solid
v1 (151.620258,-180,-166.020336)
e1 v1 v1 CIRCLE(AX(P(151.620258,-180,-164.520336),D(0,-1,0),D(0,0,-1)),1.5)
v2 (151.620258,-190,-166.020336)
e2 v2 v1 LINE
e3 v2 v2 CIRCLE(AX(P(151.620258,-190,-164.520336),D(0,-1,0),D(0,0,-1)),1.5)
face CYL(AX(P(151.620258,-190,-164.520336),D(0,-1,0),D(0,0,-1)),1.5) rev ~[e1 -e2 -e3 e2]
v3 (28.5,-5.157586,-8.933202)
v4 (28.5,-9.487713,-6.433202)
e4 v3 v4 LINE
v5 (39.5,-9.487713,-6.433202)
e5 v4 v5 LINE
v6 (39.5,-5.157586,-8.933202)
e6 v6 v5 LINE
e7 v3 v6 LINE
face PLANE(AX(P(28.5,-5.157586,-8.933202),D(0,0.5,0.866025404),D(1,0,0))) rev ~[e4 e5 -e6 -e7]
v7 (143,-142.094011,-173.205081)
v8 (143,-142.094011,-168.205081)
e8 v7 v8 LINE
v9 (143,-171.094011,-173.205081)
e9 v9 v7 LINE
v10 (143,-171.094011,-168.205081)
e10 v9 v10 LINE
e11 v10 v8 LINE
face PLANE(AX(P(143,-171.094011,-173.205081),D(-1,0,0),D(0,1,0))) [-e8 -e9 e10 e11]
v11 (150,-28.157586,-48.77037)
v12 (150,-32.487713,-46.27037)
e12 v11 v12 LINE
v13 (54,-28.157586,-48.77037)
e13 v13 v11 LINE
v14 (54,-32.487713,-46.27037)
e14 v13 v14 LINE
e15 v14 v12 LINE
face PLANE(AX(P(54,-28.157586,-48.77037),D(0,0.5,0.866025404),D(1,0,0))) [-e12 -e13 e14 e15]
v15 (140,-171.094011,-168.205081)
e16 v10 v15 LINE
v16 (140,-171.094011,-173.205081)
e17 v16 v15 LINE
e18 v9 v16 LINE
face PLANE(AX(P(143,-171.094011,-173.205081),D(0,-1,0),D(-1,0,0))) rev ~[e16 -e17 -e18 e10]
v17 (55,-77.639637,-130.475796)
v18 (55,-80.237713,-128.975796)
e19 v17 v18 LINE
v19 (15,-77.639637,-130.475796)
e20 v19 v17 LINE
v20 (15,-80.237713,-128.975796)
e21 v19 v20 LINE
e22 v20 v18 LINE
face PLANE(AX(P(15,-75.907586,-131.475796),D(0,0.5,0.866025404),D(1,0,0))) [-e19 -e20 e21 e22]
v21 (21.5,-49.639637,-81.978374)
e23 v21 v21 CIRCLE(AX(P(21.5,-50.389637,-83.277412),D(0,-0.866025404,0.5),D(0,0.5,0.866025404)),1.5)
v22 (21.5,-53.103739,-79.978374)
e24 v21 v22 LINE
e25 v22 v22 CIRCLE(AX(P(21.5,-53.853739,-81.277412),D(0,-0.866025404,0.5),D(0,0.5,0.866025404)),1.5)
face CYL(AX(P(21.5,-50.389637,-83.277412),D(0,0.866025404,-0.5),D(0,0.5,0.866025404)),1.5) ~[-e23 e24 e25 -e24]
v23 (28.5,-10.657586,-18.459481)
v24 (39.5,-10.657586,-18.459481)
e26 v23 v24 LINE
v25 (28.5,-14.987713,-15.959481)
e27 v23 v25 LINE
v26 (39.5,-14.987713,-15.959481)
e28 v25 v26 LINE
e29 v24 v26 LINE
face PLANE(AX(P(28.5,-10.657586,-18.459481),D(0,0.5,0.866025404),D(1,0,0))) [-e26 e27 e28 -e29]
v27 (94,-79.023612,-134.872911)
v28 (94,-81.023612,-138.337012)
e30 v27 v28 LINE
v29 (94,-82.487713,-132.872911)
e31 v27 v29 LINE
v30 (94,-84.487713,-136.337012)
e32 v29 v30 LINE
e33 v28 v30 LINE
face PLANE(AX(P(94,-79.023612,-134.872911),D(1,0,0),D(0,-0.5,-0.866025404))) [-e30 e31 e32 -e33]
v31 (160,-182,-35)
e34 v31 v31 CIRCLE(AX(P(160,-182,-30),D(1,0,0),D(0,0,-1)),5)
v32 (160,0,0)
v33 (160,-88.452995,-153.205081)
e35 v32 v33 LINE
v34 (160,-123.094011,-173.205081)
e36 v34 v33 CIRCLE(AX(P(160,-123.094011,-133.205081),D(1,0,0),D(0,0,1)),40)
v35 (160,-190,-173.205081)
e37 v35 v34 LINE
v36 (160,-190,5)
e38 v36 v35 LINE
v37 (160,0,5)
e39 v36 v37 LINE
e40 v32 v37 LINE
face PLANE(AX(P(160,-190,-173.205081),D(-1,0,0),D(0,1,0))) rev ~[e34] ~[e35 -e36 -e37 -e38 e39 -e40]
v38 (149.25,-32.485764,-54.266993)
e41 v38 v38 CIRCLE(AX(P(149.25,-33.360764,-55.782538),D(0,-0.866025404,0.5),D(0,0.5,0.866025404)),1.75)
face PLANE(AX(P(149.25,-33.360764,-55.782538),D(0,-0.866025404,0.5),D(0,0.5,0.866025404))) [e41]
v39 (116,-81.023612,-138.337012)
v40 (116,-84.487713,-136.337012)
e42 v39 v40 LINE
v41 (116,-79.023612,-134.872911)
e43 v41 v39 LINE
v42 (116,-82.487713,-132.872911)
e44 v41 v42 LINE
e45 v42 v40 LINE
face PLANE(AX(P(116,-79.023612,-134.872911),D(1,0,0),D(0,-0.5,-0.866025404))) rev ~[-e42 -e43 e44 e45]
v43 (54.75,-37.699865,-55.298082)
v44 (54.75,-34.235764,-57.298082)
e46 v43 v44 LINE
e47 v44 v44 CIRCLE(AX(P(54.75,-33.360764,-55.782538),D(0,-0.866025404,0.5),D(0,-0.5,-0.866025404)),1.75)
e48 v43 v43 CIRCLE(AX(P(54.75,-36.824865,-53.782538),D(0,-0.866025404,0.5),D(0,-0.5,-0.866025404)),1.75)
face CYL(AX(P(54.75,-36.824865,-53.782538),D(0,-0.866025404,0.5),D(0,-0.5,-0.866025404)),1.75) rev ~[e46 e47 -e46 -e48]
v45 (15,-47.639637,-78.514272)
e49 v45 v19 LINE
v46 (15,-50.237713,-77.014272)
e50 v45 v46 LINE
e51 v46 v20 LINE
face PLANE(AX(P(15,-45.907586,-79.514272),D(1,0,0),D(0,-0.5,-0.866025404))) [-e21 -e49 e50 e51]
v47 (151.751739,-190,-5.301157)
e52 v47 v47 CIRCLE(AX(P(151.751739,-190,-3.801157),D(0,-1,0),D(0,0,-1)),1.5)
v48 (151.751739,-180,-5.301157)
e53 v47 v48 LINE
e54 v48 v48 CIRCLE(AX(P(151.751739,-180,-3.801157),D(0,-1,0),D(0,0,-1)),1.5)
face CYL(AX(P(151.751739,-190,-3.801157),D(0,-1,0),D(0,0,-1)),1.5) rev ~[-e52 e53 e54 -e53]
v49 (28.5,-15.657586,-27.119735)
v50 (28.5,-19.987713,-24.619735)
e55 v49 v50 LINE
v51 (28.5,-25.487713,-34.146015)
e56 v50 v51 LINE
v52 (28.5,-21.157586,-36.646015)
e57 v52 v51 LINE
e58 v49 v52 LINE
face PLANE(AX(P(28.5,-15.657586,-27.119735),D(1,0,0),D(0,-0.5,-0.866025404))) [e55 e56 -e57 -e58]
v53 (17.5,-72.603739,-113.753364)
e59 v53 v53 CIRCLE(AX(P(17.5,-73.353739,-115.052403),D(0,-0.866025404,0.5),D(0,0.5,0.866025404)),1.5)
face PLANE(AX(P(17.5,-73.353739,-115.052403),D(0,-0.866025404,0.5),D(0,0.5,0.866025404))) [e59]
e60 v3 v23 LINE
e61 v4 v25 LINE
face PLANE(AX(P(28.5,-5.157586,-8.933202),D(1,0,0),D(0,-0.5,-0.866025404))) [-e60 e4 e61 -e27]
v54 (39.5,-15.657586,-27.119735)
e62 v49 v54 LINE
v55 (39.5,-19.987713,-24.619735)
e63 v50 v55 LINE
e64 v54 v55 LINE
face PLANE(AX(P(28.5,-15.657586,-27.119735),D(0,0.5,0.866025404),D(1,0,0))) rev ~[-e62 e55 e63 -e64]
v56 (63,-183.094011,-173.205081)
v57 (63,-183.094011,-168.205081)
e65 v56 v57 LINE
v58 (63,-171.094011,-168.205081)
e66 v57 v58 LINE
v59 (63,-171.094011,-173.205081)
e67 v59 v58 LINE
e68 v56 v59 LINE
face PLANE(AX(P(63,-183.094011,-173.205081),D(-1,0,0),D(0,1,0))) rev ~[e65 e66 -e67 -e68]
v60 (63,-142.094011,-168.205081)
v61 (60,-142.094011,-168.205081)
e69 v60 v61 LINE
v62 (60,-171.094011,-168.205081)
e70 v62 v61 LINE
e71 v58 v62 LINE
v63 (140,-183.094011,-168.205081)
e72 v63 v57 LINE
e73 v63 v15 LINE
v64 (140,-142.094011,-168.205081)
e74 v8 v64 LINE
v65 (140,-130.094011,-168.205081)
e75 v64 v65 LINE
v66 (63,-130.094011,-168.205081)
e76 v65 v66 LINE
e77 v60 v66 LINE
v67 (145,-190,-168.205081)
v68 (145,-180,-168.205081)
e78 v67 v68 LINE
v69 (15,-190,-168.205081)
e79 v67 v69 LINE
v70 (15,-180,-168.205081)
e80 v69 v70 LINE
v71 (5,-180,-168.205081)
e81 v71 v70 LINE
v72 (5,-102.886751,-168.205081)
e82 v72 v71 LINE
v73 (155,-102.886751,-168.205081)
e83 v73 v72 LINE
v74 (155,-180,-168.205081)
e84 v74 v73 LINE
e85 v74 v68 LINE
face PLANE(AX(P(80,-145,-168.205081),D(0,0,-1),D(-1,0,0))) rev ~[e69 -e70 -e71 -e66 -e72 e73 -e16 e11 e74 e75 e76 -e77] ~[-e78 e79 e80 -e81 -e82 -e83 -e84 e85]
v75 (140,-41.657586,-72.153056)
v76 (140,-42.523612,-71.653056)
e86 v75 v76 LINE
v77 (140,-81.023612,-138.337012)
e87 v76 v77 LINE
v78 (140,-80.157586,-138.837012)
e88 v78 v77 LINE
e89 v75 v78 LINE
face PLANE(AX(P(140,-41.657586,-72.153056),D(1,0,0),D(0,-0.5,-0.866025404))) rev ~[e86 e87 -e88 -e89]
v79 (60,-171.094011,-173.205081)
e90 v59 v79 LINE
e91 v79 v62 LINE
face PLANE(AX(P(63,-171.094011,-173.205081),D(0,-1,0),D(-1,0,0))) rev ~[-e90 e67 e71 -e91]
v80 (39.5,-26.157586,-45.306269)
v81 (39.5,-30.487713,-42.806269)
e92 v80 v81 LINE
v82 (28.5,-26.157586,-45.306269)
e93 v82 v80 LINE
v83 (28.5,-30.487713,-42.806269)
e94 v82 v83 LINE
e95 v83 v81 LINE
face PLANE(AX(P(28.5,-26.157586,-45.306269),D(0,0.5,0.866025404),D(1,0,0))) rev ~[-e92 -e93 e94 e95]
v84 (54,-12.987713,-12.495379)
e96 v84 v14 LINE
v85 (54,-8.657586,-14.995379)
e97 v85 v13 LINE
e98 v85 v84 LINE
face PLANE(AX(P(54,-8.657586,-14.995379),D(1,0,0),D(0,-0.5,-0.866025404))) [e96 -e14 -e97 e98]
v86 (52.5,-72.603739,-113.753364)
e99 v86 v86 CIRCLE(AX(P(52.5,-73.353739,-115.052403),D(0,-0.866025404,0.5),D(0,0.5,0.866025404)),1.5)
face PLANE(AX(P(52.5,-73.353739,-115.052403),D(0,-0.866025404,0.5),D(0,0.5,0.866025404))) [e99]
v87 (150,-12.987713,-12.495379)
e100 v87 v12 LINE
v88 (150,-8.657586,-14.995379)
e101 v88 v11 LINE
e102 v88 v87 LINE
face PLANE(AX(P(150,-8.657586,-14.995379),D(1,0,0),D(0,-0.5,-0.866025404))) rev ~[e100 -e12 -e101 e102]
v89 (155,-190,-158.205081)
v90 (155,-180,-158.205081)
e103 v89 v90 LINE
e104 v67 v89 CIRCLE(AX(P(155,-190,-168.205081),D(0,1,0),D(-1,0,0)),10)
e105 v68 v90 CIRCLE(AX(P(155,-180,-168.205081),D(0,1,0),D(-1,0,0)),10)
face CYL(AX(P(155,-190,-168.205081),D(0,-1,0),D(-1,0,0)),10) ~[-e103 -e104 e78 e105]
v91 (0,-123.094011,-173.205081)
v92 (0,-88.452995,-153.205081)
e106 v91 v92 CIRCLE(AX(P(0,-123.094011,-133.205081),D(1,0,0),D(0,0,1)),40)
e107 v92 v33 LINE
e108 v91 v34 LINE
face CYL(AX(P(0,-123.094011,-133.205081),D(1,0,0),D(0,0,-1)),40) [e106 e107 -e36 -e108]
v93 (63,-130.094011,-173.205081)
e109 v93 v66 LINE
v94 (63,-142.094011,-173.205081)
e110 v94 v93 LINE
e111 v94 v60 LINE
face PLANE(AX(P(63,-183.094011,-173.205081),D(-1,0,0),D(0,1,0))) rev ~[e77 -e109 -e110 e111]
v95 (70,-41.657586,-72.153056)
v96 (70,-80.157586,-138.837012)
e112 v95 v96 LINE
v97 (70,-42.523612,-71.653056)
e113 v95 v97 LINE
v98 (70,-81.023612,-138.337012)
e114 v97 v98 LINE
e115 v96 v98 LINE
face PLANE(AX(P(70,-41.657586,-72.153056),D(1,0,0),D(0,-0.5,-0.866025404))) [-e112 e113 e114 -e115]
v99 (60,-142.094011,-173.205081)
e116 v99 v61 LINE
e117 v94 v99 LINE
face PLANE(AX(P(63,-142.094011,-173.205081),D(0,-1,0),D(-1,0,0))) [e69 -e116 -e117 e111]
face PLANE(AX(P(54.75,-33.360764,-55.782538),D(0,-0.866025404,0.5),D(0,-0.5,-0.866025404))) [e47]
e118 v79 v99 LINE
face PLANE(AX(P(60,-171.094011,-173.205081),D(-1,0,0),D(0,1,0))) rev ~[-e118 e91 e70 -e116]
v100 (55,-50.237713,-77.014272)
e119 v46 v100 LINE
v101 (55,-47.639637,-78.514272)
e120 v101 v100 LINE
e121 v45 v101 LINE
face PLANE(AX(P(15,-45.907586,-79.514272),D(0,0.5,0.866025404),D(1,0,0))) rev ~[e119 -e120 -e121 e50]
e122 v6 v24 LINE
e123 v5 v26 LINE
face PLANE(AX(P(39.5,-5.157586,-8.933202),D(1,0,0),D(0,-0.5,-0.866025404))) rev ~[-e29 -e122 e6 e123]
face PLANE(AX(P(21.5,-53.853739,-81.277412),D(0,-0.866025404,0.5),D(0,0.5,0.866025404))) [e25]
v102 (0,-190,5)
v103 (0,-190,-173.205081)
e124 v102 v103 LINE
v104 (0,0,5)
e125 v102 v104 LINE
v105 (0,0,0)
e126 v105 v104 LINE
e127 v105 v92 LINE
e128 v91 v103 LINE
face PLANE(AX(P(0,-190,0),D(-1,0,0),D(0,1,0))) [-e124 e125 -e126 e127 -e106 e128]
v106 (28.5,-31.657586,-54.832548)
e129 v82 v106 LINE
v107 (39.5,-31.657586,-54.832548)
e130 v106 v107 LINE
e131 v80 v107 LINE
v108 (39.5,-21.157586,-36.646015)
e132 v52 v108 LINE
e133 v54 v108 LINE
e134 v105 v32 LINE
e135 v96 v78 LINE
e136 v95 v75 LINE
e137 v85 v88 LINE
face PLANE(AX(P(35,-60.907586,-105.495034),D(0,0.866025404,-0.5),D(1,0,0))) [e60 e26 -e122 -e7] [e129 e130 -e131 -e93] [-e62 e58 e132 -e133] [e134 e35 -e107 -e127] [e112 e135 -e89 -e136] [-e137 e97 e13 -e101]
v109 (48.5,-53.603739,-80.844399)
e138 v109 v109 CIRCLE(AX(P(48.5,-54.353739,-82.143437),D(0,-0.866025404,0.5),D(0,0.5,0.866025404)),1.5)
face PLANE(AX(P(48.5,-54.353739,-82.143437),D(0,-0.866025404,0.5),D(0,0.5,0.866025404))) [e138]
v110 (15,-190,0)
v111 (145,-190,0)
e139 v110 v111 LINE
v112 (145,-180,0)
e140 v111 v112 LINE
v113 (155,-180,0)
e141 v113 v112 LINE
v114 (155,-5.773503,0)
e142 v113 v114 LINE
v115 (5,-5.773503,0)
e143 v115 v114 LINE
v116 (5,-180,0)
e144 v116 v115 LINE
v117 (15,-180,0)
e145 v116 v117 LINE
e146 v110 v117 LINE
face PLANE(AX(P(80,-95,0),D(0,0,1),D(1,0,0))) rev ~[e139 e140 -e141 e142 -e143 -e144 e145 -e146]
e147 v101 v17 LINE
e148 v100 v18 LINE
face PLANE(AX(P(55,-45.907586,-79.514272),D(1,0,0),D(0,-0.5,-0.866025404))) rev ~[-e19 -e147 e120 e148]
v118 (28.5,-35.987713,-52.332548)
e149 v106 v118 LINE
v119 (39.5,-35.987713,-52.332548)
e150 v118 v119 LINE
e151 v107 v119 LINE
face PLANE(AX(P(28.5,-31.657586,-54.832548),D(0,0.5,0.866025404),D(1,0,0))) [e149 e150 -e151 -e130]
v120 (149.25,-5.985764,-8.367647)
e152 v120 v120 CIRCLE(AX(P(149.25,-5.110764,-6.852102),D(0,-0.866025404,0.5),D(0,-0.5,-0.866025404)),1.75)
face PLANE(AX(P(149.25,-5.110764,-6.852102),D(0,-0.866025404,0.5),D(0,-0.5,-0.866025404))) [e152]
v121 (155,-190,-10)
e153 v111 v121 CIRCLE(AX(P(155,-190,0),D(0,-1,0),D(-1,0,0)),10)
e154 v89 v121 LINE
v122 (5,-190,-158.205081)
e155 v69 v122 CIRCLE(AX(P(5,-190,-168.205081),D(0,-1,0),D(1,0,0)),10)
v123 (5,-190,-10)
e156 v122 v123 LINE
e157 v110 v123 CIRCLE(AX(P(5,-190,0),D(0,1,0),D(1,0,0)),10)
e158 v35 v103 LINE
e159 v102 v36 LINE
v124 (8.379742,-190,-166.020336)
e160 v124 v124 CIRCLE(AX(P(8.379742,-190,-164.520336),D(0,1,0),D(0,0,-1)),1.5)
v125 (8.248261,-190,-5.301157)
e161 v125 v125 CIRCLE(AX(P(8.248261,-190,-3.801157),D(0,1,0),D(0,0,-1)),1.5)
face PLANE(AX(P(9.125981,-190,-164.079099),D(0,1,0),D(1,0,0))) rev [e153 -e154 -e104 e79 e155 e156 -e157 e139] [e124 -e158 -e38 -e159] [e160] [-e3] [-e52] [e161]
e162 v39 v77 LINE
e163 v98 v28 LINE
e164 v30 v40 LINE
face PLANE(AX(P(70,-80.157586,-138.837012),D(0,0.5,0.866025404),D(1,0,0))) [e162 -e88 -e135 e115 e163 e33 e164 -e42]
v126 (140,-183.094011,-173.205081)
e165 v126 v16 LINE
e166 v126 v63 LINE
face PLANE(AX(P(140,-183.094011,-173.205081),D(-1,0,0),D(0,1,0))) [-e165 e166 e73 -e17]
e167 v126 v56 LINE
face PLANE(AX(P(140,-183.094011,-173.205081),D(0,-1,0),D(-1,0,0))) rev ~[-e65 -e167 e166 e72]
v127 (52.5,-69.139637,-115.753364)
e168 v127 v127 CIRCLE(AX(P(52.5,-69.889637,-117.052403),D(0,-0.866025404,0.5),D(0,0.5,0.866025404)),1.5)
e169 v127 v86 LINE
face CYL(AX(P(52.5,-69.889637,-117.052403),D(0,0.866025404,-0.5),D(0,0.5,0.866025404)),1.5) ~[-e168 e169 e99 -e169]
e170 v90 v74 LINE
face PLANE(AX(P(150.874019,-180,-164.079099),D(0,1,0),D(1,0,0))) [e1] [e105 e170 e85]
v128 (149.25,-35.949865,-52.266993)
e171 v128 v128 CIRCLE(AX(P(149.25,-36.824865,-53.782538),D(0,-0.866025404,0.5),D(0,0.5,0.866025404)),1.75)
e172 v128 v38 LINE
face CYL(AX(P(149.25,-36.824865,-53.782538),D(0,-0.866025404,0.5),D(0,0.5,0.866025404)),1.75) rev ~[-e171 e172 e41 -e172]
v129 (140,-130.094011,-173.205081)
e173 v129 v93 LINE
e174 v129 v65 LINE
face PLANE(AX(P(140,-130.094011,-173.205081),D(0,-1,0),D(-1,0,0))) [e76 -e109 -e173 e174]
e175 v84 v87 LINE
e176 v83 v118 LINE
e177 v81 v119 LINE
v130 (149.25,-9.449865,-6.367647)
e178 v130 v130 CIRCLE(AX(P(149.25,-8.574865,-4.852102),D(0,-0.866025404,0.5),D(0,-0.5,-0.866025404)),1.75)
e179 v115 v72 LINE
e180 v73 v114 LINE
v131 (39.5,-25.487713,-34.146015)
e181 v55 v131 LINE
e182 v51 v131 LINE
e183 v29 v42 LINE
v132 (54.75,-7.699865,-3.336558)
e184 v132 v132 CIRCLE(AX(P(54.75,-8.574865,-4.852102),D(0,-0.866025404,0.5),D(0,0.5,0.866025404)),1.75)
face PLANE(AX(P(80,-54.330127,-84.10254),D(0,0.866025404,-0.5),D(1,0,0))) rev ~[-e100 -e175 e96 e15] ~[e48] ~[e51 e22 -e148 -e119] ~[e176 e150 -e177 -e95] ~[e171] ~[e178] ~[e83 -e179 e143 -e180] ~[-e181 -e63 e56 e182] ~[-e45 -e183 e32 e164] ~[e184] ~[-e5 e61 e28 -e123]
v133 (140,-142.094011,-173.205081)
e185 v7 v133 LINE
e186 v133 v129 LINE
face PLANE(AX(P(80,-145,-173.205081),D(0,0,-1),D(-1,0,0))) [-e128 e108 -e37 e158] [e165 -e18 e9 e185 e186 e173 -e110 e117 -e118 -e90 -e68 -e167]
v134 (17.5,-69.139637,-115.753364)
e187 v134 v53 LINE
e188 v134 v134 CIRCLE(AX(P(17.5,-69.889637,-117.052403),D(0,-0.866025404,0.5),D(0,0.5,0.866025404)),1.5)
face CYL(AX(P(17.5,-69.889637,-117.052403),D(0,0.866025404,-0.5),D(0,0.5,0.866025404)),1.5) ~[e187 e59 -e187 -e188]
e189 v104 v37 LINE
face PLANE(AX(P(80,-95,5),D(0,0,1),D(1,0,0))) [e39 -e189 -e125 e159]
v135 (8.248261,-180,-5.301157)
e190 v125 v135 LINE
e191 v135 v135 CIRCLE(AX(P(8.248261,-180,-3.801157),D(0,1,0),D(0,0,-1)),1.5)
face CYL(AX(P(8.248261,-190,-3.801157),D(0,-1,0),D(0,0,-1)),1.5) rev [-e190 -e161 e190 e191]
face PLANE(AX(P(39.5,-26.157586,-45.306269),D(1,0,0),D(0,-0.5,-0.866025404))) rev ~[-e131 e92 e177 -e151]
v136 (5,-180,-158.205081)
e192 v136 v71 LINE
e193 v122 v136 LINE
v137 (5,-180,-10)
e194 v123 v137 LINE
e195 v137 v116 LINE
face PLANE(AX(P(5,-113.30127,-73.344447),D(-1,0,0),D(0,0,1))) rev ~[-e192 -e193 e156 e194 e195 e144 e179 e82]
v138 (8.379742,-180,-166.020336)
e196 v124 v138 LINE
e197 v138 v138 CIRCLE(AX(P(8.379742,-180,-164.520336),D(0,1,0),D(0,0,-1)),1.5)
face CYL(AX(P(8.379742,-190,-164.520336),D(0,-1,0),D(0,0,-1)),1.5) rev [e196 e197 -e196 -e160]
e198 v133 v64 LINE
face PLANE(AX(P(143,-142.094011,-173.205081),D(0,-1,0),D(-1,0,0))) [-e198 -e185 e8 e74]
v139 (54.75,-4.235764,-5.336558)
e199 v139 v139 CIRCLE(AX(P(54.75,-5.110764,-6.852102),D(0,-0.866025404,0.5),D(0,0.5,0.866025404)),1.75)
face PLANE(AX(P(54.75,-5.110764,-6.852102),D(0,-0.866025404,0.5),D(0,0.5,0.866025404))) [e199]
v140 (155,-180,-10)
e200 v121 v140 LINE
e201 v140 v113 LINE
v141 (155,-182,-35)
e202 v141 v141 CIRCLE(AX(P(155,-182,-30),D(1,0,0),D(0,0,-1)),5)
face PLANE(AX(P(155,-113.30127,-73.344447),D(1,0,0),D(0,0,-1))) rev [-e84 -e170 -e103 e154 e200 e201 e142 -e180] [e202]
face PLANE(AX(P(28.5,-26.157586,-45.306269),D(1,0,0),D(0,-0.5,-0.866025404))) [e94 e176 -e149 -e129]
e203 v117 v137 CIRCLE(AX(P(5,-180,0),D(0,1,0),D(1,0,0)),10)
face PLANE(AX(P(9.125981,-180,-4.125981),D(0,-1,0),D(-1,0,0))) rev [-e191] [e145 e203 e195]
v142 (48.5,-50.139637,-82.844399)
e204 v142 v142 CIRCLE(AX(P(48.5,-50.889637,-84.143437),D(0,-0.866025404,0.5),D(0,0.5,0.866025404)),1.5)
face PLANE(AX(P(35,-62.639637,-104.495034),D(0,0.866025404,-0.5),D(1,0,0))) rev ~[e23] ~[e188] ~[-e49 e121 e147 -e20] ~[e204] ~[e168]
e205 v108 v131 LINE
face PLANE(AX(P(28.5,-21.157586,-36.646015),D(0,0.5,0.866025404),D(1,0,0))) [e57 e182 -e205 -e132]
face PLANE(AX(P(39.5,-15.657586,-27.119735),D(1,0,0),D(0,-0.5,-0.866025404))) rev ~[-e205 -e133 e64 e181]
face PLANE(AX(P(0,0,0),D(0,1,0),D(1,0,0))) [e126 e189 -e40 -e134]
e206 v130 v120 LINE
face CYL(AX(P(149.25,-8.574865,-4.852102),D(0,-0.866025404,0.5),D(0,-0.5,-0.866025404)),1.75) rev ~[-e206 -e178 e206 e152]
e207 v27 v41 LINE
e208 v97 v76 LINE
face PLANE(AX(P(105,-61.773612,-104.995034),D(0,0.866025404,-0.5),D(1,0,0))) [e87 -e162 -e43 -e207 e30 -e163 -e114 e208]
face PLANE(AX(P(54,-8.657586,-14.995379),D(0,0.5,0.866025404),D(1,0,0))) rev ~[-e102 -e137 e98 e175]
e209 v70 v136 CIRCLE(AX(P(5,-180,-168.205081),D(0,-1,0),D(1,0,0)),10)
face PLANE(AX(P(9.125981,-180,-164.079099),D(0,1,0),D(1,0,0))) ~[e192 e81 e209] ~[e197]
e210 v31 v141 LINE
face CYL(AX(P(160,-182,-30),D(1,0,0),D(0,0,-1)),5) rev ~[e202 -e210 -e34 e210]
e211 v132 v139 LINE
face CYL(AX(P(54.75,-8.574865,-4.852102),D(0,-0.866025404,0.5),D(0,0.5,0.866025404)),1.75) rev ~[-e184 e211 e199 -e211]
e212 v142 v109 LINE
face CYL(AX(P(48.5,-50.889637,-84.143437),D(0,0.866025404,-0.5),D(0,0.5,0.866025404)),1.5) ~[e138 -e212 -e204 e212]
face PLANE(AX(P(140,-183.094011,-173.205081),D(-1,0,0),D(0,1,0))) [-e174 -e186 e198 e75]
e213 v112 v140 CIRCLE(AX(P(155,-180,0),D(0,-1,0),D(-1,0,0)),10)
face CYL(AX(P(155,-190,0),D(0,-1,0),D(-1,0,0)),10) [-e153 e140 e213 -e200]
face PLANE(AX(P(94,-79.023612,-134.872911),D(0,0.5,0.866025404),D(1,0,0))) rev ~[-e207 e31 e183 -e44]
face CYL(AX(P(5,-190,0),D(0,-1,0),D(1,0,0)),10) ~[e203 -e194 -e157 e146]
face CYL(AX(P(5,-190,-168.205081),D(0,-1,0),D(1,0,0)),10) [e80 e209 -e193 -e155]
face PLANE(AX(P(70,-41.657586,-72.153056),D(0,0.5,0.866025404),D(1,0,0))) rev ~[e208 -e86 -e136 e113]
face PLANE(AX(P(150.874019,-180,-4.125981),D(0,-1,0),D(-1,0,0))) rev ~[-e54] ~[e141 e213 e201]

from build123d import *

# Parameters (mm, degrees)
BOSS_EXTRUDE1_DEPTH  = 5
SKETCH2_W            = 160
SKETCH2_H            = 200
BOSS_EXTRUDE2_DEPTH  = 5
SKETCH4_W            = 160
SKETCH4_H            = 190
BOSS_EXTRUDE4_DEPTH  = 5
SKETCH5_W            = 160
SKETCH5_H            = 90
BOSS_EXTRUDE5_DEPTH  = 5
SKETCH6_W            = 96
SKETCH6_H            = 39
SKETCH6_W_2          = 11
SKETCH6_H_2          = 11
CUT_EXTRUDE2_DEPTH   = 5
FILLET1_R            = 40
SKETCH7_W            = 70
SKETCH7_H            = 77
CUT_EXTRUDE3_DEPTH   = 1
SKETCH8_W            = 22
SKETCH8_H            = 4
CUT_EXTRUDE4_DEPTH   = 4
SKETCH9_W            = 40
SKETCH9_H            = 60
CUT_EXTRUDE5_DEPTH   = 5
SKETCH12_W           = 40
SKETCH12_H           = 60
BOSS_EXTRUDE6_DEPTH  = 2
SKETCH14_W           = 77
SKETCH14_H           = 53
CUT_EXTRUDE6_DEPTH   = 5
SKETCH15_W           = 3
SKETCH15_H           = 29
CUT_EXTRUDE7_DEPTH   = 5
SKETCH17_R           = 1.75
CUT_EXTRUDE9_DEPTH   = 4
SKETCH21_R           = 1.5
BOSS_EXTRUDE8_DEPTH  = 4
SKETCH23_R           = 1.5
BOSS_EXTRUDE9_DEPTH  = 10
SKETCH25_R           = 1.5
BOSS_EXTRUDE10_DEPTH = 10
SKETCH33_R           = 5
CUT_EXTRUDE14_DEPTH  = 10


with BuildPart() as part:
    # Sketch1 → Boss-Extrude1 (new body)
    with BuildSketch(Plane(origin=(0, 0, 0), x_dir=(0, 0, -1), z_dir=(1, 0, 0))):
        Polygon((0, 0), (173.205080757, -100), (173.205080757, -190), (0, -190), align=None)
    boss_extrude1 = extrude(amount=BOSS_EXTRUDE1_DEPTH)

    # Sketch2 → Boss-Extrude2 (add)
    with BuildSketch(Plane(origin=(0, 0, 0), x_dir=(1, 0, 0), z_dir=(0, 0.8660254037844382, -0.5000000000000011))):
        with Locations((80, 100)):
            Rectangle(SKETCH2_W, SKETCH2_H)
    extrude(amount=-BOSS_EXTRUDE2_DEPTH)

    # Sketch4 → Boss-Extrude4 (add)
    with BuildSketch(Plane.XY):
        with Locations((80, -95)):
            Rectangle(SKETCH4_W, SKETCH4_H)
    extrude(amount=BOSS_EXTRUDE4_DEPTH)

    # Sketch5 → Boss-Extrude5 (add)
    with BuildSketch(Plane(origin=(0, 0, -173.205080757), x_dir=(-1, 0, 0), z_dir=(0, 0, -1))):
        with Locations((-80, -145)):
            Rectangle(SKETCH5_W, SKETCH5_H)
    extrude(amount=-BOSS_EXTRUDE5_DEPTH)

    # Mirror1: Boss-Extrude1 across plane
    add(boss_extrude1.mirror(Plane.ZY.offset(-80)))

    # Sketch6 → Cut-Extrude2 (cut)
    with BuildSketch(Plane(origin=(0, 0, 0), x_dir=(1, 0, 0), z_dir=(0, 0.8660254037844382, -0.5000000000000011))):
        with Locations((102, 36.815172727)):
            Rectangle(SKETCH6_W, SKETCH6_H)
        with Locations((34, 15.815172727)):
            Rectangle(SKETCH6_W_2, SKETCH6_H_2)
        with Locations((34, 36.815172727)):
            Rectangle(SKETCH6_W_2, SKETCH6_H_2)
        with Locations((34, 57.815172727)):
            Rectangle(SKETCH6_W_2, SKETCH6_H_2)
    extrude(amount=-CUT_EXTRUDE2_DEPTH, mode=Mode.SUBTRACT)

    # Fillet1
    fillet1_edges = [part.edges().sort_by_distance(p)[0] for p in [
        (80, -100, -173.205080757),
    ]]
    fillet(fillet1_edges, radius=FILLET1_R)

    # Sketch7 → Cut-Extrude3 (cut)
    with BuildSketch(Plane(origin=(0, 0, 0), x_dir=(1, 0, 0), z_dir=(0, 0.8660254037844382, -0.5000000000000011))):
        with Locations((105, 121.815172727)):
            Rectangle(SKETCH7_W, SKETCH7_H)
    extrude(amount=-CUT_EXTRUDE3_DEPTH, mode=Mode.SUBTRACT)

    # Sketch8 → Cut-Extrude4 (cut)
    with BuildSketch(Plane(origin=(0, -0.866025403784426, 0.4999999999999943), x_dir=(1, 0, 0), z_dir=(0, 0.8660254037844382, -0.5000000000000011))):
        with Locations((105, 158.315172727)):
            Rectangle(SKETCH8_W, SKETCH8_H)
    extrude(amount=-CUT_EXTRUDE4_DEPTH, mode=Mode.SUBTRACT)

    # Sketch9 → Cut-Extrude5 (cut)
    with BuildSketch(Plane(origin=(0, 0, 0), x_dir=(1, 0, 0), z_dir=(0, 0.8660254037844382, -0.5000000000000011))):
        with Locations((35, 121.815172727)):
            Rectangle(SKETCH9_W, SKETCH9_H)
    extrude(amount=-CUT_EXTRUDE5_DEPTH, mode=Mode.SUBTRACT)

    # Sketch12 → Boss-Extrude6 (add)
    with BuildSketch(Plane(origin=(0, 0, 0), x_dir=(1, 0, 0), z_dir=(0, 0.8660254037844382, -0.5000000000000011))):
        with Locations((35, 121.815172727)):
            Rectangle(SKETCH12_W, SKETCH12_H)
    extrude(amount=-BOSS_EXTRUDE6_DEPTH)

    # Sketch14 → Cut-Extrude6 (cut)
    with BuildSketch(Plane(origin=(0, 0, -173.205080757), x_dir=(-1, 0, 0), z_dir=(0, 0, -1))):
        with Locations((-101.5, -156.594010768)):
            Rectangle(SKETCH14_W, SKETCH14_H)
    extrude(amount=-CUT_EXTRUDE6_DEPTH, mode=Mode.SUBTRACT)

    # Sketch15 → Cut-Extrude7 (cut)
    with BuildSketch(Plane(origin=(0, 0, -173.205080757), x_dir=(-1, 0, 0), z_dir=(0, 0, -1))):
        with Locations((-61.5, -156.594010768)):
            Rectangle(SKETCH15_W, SKETCH15_H)
        with Locations((-141.5, -156.594010768)):
            Rectangle(SKETCH15_W, SKETCH15_H)
    extrude(amount=-CUT_EXTRUDE7_DEPTH, mode=Mode.SUBTRACT)

    # Sketch17 → Cut-Extrude9 (cut)
    with BuildSketch(Plane(origin=(0, -4.330127019, 2.5), x_dir=(-1, 0, 0), z_dir=(0, -0.8660254037844382, 0.500000000000001))):
        with Locations(Location((-54.75, 64.989476433, 0), (0, 0, 90))):
            Circle(SKETCH17_R)
        with Locations(Location((-149.25, 64.989476433, 0), (0, 0, 270))):
            Circle(SKETCH17_R)
        with Locations(Location((-54.75, 8.489476433, 0), (0, 0, 270))):
            Circle(SKETCH17_R)
        with Locations(Location((-149.25, 8.489476433, 0), (0, 0, 90))):
            Circle(SKETCH17_R)
    extrude(amount=-CUT_EXTRUDE9_DEPTH, mode=Mode.SUBTRACT)

    # Sketch21 → Boss-Extrude8 (add)
    with BuildSketch(Plane(origin=(0, -1.732050808, 1), x_dir=(-1, 0, 0), z_dir=(0, -0.8660254037844382, 0.500000000000001))):
        with Locations(Location((-48.5, 98.315172727, 0), (0, 0, 270))):
            Circle(SKETCH21_R)
        with Locations(Location((-21.5, 97.315172727, 0), (0, 0, 270))):
            Circle(SKETCH21_R)
        with Locations(Location((-17.5, 136.315172727, 0), (0, 0, 270))):
            Circle(SKETCH21_R)
        with Locations(Location((-52.5, 136.315172727, 0), (0, 0, 270))):
            Circle(SKETCH21_R)
    extrude(amount=BOSS_EXTRUDE8_DEPTH)

    # Sketch23 → Boss-Extrude9 (add)
    with BuildSketch(Plane(origin=(0, -190, 0), x_dir=(-1, 0, 0), z_dir=(0, -1, 0))):
        with BuildLine():
            Line((-155, 0), (-145, 0))
            ThreePointArc((-145, 0), (-147.928932188, 7.071067812), (-155, 10))
            Line((-155, 10), (-155, 0))
        make_face()
        with Locations(Location((-151.751738587, 3.801157428, 0), (0, 0, 90))):
            Circle(SKETCH23_R, mode=Mode.SUBTRACT)
    boss_extrude9 = extrude(amount=-BOSS_EXTRUDE9_DEPTH)

    # Mirror2: Boss-Extrude9 across plane
    add(boss_extrude9.mirror(Plane.ZY.offset(-80)))

    # Sketch25 → Boss-Extrude10 (add)
    with BuildSketch(Plane(origin=(0, -190, 0), x_dir=(-1, 0, 0), z_dir=(0, -1, 0))):
        with BuildLine():
            Line((-155, 168.205080757), (-145, 168.205080757))
            ThreePointArc((-145, 168.205080757), (-147.928932188, 161.134012945), (-155, 158.205080757))
            Line((-155, 158.205080757), (-155, 168.205080757))
        make_face()
        with Locations(Location((-151.620258089, 164.520335906, 0), (0, 0, 90))):
            Circle(SKETCH25_R, mode=Mode.SUBTRACT)
    boss_extrude10 = extrude(amount=-BOSS_EXTRUDE10_DEPTH)

    # Mirror4: Boss-Extrude10 across plane
    add(boss_extrude10.mirror(Plane.ZY.offset(-80)))

    # Sketch33 → Cut-Extrude14 (cut)
    with BuildSketch(Plane(origin=(160, 0, 0), x_dir=(0, 0, -1), z_dir=(1, 0, 0))):
        with Locations((30, -182)):
            Circle(SKETCH33_R)
    extrude(amount=-CUT_EXTRUDE14_DEPTH, mode=Mode.SUBTRACT)


solid = part.part
